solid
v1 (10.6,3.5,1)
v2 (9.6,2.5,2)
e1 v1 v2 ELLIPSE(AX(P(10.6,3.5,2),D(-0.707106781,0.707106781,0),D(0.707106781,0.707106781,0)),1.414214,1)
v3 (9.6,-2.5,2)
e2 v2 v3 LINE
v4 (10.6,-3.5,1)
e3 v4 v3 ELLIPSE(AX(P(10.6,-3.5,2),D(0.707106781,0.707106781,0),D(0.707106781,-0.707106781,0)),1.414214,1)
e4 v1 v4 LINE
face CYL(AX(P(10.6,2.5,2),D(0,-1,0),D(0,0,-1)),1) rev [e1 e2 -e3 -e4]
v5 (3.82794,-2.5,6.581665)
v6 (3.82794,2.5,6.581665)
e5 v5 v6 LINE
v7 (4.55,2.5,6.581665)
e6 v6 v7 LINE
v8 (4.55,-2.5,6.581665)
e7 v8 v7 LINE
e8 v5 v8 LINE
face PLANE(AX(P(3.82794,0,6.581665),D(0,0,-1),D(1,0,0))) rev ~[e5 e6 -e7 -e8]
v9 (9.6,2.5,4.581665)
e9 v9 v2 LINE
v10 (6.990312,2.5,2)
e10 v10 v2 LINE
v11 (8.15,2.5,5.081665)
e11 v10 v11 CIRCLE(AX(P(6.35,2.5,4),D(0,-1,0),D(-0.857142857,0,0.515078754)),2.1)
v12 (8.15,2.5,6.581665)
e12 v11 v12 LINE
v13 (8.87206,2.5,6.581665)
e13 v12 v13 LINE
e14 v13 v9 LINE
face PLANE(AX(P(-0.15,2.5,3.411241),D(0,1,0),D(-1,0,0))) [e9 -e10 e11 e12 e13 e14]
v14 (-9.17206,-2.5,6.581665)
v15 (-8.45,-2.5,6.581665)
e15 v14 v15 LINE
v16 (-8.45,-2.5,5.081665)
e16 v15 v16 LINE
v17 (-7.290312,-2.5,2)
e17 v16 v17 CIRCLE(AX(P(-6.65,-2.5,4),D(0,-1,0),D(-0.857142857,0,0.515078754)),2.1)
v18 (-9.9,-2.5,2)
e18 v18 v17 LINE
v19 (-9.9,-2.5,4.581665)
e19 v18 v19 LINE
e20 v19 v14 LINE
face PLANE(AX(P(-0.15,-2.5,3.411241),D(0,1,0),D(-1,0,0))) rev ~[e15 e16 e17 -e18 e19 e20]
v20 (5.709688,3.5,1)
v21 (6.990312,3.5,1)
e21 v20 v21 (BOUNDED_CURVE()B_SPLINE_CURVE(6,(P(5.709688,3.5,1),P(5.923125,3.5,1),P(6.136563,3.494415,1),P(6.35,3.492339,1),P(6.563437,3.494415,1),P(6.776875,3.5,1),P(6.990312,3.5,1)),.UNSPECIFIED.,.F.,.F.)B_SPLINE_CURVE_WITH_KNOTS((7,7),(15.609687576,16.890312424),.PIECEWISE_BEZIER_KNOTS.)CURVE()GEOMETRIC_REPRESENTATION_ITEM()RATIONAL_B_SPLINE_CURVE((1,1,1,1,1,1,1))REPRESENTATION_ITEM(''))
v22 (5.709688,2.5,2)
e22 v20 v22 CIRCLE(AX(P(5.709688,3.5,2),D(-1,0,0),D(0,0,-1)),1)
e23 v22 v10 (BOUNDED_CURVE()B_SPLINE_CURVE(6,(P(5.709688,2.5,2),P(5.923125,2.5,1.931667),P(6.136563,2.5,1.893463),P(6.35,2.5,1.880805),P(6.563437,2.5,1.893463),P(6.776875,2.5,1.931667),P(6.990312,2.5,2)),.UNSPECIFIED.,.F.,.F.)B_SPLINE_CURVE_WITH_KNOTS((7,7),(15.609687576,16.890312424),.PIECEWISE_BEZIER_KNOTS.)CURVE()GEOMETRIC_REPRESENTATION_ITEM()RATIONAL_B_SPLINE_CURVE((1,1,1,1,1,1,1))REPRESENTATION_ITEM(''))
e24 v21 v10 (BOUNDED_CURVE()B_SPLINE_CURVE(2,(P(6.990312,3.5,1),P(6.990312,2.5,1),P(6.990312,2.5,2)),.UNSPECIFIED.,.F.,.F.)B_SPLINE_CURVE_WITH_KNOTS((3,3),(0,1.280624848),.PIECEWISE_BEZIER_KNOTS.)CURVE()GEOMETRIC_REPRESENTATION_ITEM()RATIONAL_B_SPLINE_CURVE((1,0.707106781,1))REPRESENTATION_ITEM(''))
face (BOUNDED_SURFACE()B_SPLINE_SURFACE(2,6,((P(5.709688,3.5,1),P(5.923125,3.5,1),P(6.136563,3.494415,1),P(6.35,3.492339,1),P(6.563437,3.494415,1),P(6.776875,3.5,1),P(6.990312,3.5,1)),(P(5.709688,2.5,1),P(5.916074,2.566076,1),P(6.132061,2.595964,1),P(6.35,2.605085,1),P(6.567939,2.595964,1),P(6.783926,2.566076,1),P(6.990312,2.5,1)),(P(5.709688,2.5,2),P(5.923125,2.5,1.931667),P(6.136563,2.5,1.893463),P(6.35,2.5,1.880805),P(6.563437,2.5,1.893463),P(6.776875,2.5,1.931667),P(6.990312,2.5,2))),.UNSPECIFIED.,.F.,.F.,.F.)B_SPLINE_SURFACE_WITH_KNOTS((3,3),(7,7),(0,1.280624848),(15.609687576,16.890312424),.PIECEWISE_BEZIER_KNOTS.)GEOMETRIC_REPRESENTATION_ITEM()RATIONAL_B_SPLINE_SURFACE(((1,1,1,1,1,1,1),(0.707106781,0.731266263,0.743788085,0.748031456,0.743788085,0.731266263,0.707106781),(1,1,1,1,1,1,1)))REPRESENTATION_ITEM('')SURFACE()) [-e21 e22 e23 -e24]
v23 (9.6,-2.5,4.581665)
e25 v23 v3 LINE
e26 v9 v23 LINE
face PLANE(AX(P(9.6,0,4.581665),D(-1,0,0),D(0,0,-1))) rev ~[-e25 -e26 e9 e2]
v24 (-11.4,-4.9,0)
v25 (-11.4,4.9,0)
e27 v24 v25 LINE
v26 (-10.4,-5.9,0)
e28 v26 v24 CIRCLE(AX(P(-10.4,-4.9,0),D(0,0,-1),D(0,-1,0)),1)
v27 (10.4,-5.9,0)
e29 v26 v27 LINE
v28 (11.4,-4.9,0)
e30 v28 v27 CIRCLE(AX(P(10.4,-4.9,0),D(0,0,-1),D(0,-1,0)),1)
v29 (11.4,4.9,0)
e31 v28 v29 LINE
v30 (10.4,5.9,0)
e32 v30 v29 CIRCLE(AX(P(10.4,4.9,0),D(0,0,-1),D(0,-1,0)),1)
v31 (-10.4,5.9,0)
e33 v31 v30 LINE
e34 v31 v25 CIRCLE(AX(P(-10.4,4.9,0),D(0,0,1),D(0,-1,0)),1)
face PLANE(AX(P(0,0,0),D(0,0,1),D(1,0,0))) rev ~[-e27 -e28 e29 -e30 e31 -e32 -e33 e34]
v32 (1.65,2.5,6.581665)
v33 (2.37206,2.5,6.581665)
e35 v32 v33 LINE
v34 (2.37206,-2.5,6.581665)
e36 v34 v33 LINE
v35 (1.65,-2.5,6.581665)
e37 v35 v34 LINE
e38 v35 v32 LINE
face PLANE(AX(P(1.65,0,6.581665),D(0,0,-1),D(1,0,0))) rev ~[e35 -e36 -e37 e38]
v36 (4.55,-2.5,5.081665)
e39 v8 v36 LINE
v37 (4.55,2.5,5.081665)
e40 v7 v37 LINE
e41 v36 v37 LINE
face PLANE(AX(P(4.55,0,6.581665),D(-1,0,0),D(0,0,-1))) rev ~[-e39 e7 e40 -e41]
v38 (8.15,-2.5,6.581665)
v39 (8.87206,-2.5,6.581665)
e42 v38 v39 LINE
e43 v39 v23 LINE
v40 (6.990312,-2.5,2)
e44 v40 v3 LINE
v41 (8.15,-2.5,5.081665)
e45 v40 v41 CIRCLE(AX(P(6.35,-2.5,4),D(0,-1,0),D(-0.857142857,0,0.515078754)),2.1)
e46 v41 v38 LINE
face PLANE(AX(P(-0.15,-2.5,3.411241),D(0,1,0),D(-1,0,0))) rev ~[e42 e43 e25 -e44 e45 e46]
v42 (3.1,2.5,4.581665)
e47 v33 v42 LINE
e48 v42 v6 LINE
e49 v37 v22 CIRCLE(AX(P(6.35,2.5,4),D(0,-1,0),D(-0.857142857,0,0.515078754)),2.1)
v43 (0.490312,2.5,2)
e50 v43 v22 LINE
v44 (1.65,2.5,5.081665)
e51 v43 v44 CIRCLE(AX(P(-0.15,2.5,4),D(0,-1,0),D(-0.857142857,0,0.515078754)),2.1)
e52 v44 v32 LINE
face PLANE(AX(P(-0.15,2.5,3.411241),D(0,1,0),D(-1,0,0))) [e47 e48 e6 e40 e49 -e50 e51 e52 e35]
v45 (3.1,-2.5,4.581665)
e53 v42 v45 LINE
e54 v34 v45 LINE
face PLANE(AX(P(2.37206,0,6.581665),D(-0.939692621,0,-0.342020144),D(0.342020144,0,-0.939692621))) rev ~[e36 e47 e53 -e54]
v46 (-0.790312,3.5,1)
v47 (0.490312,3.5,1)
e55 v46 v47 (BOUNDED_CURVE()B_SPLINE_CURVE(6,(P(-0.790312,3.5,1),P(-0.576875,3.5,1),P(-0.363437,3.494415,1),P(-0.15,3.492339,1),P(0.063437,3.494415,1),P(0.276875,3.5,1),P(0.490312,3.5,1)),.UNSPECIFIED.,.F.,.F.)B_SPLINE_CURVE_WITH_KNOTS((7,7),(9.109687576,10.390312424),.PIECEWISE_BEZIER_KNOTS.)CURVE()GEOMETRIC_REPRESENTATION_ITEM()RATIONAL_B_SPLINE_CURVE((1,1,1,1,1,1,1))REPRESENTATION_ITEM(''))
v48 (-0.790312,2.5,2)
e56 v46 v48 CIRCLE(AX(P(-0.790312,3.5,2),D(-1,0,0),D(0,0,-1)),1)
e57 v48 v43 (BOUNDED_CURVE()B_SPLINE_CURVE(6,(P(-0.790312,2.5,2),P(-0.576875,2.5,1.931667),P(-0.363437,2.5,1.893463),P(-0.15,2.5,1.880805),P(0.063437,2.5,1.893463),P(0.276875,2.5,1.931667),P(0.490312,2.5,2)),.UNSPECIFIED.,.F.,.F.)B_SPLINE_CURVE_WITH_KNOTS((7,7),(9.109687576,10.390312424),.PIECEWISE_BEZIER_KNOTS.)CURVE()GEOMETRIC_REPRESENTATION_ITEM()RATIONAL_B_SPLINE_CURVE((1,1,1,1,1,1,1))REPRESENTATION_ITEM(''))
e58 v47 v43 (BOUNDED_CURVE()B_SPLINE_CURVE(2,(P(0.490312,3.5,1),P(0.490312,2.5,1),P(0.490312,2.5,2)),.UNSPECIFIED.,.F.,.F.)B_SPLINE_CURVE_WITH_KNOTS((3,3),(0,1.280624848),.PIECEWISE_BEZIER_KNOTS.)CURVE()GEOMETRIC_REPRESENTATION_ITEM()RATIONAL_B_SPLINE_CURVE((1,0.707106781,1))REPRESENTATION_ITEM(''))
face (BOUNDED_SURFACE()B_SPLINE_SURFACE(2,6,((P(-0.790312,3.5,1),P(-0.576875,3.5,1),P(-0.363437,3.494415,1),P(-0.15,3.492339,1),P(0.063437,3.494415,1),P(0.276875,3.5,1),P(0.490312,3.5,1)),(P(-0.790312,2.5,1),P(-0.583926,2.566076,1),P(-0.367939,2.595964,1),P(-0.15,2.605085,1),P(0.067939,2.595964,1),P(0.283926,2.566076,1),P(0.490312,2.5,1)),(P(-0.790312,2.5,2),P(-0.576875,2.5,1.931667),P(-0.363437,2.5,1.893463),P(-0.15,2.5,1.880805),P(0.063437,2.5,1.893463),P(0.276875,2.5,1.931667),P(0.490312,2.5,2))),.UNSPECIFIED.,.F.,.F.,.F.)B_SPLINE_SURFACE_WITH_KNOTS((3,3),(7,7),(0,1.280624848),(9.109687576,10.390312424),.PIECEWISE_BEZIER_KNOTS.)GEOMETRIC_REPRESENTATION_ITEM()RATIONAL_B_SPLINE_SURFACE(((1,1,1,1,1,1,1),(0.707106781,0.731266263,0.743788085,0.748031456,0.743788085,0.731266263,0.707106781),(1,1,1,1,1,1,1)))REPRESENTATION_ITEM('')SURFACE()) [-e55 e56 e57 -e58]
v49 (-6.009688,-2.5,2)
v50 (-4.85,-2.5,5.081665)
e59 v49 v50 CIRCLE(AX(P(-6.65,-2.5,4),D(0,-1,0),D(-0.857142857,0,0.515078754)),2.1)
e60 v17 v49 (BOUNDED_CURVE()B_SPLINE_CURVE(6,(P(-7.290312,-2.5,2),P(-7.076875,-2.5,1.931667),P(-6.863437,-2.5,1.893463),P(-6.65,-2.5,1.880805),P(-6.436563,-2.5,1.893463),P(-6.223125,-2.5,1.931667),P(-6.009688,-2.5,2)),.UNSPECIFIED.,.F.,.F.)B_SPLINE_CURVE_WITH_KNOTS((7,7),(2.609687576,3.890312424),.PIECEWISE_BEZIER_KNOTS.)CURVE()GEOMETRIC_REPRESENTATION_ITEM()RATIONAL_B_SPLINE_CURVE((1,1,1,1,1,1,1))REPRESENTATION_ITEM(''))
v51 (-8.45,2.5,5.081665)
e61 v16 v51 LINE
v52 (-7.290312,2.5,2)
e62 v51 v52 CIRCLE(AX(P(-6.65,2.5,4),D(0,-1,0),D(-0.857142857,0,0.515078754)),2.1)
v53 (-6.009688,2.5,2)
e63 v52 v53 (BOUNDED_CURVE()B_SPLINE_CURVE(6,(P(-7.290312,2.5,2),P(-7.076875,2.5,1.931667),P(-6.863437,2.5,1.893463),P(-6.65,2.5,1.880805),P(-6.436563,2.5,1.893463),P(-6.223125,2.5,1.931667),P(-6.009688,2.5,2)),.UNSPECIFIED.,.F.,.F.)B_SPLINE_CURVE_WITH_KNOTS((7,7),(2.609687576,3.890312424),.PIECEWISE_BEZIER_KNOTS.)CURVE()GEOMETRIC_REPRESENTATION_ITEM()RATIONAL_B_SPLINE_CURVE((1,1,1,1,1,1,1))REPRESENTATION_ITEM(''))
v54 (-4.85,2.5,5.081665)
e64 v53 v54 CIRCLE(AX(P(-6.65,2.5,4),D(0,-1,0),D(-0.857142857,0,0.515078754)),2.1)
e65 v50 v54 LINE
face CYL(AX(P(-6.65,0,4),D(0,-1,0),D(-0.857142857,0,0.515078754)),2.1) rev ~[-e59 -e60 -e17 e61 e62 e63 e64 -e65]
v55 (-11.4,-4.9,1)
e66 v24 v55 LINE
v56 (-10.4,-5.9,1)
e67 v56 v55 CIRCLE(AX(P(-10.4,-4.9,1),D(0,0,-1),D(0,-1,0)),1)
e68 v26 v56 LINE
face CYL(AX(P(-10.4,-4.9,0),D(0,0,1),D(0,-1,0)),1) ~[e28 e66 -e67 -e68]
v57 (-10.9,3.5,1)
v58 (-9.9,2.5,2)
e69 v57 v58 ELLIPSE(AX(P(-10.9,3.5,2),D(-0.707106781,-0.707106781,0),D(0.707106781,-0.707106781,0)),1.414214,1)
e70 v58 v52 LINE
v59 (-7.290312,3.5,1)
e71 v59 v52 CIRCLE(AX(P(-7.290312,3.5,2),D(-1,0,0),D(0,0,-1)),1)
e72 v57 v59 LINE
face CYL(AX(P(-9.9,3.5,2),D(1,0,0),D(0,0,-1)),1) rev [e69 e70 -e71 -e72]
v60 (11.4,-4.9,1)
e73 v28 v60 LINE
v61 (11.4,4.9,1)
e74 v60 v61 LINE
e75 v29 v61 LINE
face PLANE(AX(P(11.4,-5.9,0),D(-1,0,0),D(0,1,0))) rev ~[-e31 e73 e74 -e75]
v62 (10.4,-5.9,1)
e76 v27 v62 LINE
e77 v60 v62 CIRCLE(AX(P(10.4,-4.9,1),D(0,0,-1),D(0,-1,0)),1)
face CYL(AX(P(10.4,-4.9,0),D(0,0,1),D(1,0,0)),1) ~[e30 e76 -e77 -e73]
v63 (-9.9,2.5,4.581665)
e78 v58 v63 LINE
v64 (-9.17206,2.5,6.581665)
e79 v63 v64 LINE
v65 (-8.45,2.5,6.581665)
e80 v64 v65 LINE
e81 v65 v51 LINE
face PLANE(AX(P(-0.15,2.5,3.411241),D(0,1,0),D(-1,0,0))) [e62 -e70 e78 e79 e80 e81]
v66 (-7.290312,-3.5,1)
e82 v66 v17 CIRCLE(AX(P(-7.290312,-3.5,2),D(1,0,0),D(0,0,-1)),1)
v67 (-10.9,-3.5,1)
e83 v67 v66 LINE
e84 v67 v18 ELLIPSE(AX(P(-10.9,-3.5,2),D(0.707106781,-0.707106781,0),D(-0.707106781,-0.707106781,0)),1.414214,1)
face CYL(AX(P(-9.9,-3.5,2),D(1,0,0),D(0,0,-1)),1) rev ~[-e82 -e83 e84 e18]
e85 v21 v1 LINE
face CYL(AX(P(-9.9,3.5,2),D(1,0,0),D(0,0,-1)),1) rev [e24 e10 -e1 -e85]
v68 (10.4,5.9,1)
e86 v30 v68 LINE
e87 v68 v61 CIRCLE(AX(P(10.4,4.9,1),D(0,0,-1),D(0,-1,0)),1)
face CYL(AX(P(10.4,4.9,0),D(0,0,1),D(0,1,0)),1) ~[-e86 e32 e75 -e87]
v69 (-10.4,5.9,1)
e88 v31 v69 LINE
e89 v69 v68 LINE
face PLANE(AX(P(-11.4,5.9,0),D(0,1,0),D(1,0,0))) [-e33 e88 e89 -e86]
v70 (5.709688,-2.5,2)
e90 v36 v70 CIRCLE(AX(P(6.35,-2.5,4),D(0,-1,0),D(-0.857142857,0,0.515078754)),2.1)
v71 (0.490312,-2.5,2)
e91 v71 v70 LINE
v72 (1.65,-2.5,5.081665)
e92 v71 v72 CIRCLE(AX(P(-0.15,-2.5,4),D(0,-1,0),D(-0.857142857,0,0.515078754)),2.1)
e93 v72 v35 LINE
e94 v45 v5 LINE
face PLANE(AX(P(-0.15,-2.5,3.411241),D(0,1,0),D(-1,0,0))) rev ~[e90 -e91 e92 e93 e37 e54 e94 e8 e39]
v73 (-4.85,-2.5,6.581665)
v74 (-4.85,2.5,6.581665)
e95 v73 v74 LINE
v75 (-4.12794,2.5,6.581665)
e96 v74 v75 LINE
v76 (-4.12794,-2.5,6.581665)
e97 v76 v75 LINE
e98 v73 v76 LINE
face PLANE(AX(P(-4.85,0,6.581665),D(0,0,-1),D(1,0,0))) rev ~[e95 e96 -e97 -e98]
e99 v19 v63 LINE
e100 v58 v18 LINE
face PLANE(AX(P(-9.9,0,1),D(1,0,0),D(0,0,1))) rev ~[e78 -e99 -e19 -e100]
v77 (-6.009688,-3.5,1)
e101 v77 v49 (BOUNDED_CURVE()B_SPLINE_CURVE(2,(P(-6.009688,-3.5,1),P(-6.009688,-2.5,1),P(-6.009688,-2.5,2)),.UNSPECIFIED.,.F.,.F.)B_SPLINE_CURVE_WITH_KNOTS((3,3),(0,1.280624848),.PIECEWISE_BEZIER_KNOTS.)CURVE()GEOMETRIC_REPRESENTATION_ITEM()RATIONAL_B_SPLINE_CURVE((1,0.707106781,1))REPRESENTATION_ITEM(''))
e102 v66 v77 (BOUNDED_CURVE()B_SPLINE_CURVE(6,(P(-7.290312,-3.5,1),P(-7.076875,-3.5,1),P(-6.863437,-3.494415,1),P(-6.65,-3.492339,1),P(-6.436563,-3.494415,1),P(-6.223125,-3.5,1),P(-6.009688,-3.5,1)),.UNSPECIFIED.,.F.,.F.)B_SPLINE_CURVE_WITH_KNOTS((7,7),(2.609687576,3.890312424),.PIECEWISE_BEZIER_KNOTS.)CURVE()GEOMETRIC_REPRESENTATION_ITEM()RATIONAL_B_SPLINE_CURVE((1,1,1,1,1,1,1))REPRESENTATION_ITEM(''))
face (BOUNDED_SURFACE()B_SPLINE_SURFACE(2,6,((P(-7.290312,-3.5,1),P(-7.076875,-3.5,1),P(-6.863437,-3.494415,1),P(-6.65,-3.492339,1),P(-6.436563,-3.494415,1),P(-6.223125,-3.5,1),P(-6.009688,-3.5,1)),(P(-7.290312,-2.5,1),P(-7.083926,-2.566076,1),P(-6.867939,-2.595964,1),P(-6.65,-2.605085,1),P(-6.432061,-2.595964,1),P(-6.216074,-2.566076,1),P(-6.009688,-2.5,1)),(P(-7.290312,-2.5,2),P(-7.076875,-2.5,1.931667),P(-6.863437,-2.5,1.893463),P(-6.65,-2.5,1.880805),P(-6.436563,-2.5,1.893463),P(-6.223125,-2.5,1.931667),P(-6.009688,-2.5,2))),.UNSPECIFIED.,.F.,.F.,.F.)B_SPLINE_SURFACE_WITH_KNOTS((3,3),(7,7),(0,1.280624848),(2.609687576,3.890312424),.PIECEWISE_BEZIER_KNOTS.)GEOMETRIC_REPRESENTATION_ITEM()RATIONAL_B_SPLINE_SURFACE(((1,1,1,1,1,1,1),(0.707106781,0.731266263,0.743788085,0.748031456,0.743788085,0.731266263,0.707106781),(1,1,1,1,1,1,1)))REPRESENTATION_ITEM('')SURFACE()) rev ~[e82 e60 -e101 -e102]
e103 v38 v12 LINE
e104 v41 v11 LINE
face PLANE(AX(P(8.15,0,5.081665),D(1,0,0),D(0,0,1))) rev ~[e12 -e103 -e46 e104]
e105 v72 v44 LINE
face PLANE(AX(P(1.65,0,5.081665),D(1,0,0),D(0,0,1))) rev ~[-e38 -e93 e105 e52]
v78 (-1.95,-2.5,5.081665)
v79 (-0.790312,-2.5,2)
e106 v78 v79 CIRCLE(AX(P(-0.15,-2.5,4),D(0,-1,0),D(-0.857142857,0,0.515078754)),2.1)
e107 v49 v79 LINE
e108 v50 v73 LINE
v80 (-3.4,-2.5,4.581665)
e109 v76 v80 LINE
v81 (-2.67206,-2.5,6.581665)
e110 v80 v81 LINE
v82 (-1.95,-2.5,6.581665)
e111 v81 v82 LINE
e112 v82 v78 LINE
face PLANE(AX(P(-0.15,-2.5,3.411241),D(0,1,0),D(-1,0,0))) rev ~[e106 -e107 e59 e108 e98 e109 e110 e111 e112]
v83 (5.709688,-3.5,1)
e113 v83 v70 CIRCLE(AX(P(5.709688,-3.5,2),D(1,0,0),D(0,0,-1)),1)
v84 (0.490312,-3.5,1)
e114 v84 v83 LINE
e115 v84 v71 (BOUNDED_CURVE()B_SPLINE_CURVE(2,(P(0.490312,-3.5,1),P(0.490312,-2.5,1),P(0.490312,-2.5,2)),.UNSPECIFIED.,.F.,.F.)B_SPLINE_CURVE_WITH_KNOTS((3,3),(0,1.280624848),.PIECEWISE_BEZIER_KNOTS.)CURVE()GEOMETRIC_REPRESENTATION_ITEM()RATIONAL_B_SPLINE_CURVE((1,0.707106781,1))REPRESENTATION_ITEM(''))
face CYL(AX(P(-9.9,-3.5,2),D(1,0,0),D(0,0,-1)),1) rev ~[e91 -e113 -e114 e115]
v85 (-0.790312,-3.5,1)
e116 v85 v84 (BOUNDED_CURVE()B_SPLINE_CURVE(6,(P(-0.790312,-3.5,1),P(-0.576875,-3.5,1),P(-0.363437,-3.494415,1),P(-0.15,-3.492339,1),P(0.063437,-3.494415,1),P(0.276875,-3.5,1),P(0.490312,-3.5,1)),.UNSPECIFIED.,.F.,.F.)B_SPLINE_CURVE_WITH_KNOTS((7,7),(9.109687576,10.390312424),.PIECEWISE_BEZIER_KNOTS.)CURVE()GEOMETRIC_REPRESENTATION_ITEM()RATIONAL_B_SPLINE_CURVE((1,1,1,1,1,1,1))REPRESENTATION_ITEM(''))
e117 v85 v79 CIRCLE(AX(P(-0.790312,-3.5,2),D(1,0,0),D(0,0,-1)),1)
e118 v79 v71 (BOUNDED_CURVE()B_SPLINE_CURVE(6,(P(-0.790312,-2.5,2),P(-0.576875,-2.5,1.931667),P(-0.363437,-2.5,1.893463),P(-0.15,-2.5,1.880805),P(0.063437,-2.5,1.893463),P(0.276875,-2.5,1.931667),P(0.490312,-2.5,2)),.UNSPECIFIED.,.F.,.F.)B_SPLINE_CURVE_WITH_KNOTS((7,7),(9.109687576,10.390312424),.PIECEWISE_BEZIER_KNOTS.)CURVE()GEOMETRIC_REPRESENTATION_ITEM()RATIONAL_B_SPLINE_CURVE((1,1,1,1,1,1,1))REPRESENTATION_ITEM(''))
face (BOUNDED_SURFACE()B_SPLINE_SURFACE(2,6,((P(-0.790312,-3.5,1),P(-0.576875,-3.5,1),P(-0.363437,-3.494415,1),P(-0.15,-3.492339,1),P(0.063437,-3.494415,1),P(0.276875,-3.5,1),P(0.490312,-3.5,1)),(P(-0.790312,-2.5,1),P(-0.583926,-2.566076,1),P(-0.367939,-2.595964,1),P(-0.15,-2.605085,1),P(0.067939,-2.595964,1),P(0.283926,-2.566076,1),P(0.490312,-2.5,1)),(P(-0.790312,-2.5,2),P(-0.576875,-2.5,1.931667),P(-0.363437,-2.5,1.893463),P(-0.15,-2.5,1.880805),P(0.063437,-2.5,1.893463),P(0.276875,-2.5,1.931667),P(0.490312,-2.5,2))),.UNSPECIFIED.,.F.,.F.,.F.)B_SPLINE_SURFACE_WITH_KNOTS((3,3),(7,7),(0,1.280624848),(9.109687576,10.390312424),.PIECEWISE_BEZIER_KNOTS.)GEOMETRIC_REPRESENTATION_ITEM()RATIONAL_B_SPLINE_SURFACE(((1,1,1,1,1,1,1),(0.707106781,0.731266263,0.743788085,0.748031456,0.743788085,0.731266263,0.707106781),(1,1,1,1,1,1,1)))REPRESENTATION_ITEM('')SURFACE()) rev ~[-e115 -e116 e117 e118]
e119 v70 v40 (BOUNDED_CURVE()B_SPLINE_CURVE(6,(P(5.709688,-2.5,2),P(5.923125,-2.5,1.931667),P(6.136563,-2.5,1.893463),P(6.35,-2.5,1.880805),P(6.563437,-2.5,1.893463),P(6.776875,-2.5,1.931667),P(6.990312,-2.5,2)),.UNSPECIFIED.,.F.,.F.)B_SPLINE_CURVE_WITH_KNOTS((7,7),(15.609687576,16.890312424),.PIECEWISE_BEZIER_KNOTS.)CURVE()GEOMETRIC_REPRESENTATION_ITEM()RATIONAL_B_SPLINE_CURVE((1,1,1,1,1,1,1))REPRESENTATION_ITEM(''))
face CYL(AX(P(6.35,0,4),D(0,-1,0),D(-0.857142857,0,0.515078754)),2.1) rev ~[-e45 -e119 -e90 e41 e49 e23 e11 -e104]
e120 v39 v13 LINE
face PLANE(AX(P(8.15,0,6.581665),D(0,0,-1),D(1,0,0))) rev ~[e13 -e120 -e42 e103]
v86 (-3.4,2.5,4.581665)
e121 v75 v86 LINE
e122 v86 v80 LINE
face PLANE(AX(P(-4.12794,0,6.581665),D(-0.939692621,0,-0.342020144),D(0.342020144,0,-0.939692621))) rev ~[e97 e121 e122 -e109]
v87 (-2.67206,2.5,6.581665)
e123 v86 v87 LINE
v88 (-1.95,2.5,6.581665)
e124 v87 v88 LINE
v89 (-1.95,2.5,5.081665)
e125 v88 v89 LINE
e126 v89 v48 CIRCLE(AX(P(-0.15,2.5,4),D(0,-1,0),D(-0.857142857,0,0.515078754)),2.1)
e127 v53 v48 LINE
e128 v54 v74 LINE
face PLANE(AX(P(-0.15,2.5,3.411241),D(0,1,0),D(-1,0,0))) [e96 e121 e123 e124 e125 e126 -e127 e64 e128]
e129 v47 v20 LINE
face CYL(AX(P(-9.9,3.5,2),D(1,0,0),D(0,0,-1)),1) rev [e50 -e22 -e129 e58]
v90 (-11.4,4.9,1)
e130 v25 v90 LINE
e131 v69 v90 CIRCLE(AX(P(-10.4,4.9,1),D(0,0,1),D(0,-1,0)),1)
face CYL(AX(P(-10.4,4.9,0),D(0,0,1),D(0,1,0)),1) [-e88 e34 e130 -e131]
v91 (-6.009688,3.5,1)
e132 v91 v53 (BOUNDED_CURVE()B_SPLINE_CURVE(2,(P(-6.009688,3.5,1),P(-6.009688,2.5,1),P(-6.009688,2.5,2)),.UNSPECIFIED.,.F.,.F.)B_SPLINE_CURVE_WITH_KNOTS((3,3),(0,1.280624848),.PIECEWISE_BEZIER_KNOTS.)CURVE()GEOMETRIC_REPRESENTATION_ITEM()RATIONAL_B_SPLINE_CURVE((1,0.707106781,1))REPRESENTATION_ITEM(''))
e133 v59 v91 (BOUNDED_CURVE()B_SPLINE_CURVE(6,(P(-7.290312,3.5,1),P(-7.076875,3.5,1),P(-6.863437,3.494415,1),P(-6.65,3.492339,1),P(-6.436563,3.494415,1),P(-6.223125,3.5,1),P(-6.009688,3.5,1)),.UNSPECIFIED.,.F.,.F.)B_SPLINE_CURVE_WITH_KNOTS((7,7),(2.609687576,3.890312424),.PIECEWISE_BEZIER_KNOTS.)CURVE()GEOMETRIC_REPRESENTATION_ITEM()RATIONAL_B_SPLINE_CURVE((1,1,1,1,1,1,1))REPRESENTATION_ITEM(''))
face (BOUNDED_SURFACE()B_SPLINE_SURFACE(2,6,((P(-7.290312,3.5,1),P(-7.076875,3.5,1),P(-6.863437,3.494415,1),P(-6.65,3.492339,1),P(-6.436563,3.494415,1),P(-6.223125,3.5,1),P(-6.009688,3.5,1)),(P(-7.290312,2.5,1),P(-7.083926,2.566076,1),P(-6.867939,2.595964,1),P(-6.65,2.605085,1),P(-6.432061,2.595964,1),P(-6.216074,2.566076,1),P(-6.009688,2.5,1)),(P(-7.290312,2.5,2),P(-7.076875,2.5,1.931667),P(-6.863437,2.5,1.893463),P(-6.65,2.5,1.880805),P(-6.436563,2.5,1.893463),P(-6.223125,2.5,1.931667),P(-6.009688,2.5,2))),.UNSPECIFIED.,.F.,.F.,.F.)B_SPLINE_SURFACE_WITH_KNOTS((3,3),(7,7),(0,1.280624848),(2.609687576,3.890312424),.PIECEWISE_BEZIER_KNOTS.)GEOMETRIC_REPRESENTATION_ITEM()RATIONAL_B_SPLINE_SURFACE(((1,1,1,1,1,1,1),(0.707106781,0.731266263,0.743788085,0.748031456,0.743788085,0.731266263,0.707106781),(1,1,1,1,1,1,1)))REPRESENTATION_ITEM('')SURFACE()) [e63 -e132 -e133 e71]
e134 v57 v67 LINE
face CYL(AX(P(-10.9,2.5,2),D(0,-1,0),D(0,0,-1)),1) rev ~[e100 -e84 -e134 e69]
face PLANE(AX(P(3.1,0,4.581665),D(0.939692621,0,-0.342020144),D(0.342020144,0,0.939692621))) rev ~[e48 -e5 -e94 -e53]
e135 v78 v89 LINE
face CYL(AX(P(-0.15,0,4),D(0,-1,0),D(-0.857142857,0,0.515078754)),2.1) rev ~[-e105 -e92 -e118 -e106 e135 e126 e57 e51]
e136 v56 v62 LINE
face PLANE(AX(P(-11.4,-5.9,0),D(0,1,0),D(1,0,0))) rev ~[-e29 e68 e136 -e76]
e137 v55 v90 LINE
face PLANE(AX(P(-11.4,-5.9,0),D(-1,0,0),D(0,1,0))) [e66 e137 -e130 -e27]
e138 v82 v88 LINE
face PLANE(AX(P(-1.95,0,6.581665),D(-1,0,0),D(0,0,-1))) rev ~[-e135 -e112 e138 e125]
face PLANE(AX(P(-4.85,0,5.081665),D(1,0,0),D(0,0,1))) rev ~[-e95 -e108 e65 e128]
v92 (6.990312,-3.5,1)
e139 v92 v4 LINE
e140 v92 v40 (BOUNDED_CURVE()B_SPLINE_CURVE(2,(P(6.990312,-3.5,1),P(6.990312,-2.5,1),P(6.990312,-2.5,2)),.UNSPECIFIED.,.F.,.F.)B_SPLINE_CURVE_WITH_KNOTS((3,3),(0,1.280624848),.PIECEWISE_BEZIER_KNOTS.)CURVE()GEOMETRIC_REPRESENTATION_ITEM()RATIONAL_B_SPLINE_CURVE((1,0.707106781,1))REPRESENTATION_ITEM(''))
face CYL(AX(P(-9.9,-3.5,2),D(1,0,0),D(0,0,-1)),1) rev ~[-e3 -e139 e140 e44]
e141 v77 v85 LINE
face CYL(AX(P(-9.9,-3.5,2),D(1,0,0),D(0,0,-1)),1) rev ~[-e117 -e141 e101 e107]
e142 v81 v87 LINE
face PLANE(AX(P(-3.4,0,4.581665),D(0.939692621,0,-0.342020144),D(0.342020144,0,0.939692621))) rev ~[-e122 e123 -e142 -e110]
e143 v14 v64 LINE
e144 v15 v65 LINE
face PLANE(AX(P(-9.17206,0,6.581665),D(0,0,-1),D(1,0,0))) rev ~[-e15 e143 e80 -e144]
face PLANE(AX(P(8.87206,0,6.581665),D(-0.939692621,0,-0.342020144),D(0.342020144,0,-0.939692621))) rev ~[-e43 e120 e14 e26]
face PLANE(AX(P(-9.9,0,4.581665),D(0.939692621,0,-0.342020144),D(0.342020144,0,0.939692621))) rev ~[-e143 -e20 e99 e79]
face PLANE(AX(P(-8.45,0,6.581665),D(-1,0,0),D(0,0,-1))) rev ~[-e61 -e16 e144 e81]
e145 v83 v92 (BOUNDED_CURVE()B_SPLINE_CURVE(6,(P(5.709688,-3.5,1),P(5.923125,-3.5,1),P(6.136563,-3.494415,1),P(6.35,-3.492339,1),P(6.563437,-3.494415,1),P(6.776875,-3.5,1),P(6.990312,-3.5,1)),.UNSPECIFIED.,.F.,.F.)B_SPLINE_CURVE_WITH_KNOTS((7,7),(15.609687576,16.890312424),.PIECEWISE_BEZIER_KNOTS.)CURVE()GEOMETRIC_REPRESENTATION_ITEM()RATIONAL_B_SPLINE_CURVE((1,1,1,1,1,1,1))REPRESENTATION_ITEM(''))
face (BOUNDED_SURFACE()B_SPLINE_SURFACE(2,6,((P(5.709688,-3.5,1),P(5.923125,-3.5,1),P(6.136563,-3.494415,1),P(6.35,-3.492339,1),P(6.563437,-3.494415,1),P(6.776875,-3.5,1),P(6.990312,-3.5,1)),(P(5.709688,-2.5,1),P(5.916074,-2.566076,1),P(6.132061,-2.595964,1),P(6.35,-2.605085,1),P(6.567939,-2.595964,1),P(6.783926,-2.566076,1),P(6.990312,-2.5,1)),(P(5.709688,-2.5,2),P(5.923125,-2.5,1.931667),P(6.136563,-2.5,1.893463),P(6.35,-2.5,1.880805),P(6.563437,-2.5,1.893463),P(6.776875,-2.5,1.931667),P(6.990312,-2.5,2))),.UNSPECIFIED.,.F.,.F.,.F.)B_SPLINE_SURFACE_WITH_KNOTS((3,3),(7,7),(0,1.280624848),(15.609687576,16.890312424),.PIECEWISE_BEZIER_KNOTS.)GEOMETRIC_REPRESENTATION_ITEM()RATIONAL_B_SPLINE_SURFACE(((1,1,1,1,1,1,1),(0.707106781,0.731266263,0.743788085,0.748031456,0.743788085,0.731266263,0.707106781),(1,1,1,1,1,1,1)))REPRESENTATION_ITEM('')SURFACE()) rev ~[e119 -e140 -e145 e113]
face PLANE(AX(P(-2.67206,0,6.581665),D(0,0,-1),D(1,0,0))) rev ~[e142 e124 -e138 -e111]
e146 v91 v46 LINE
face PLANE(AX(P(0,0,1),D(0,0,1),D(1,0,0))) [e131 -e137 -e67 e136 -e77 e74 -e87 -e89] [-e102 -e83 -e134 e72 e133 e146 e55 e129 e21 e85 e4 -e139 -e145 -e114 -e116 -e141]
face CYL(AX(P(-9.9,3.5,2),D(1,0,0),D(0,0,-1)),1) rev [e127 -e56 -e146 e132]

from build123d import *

# Parameters (mm, degrees)
SKETCH1_W           = 22.8
SKETCH1_H           = 11.8
BOSS_EXTRUDE1_DEPTH = 1
BOSS_EXTRUDE2_DEPTH = 2.5
LPATTERN2_COUNT     = 3
LPATTERN2_PITCH     = 6.5
FILLET1_R           = 1
FILLET2_R           = 1


with BuildPart() as part:
    # Sketch1 → Boss-Extrude1 (new body)
    with BuildSketch(Plane.XY):
        Rectangle(SKETCH1_W, SKETCH1_H)
    extrude(amount=BOSS_EXTRUDE1_DEPTH)

    # Sketch3 → Boss-Extrude2 (add, symmetric)
    with BuildSketch(Plane.XZ):
        with BuildLine():
            Line((-9.9, 1), (-9.9, 4.581665383))
            Line((-9.9, 4.581665383), (-9.172059531, 6.581665383))
            Line((-9.172059531, 6.581665383), (-8.45, 6.581665383))
            Line((-8.45, 6.581665383), (-8.45, 5.081665383))
            ThreePointArc((-8.45, 5.081665383), (-6.65, 1.9), (-4.85, 5.081665383))
            Line((-4.85, 5.081665383), (-4.85, 6.581665383))
            Line((-4.85, 6.581665383), (-4.127940469, 6.581665383))
            Line((-4.127940469, 6.581665383), (-3.4, 4.581665383))
            Line((-3.4, 4.581665383), (-3.4, 1))
            Line((-3.4, 1), (-9.9, 1))
        make_face()
    boss_extrude2 = extrude(amount=BOSS_EXTRUDE2_DEPTH, both=True)

    # LPattern2: Boss-Extrude2 ×3
    with Locations(*[(i * LPATTERN2_PITCH, 0, 0) for i in range(1, LPATTERN2_COUNT)]):
        add(boss_extrude2)

    # Fillet1
    fillet1_edges = [part.edges().sort_by_distance(p)[0] for p in [
        (-11.4, 5.9, 0.5),
        (11.4, 5.9, 0.5),
        (11.4, -5.9, 0.5),
        (-11.4, -5.9, 0.5),
    ]]
    fillet(fillet1_edges, radius=FILLET1_R)

    # Fillet2
    fillet2_edges = [part.edges().sort_by_distance(p)[0] for p in [
        (-0.15, 2.5, 1),
        (-9.9, 0, 1),
        (-0.15, -2.5, 1),
        (9.6, 0, 1),
    ]]
    fillet(fillet2_edges, radius=FILLET2_R)


solid = part.part
